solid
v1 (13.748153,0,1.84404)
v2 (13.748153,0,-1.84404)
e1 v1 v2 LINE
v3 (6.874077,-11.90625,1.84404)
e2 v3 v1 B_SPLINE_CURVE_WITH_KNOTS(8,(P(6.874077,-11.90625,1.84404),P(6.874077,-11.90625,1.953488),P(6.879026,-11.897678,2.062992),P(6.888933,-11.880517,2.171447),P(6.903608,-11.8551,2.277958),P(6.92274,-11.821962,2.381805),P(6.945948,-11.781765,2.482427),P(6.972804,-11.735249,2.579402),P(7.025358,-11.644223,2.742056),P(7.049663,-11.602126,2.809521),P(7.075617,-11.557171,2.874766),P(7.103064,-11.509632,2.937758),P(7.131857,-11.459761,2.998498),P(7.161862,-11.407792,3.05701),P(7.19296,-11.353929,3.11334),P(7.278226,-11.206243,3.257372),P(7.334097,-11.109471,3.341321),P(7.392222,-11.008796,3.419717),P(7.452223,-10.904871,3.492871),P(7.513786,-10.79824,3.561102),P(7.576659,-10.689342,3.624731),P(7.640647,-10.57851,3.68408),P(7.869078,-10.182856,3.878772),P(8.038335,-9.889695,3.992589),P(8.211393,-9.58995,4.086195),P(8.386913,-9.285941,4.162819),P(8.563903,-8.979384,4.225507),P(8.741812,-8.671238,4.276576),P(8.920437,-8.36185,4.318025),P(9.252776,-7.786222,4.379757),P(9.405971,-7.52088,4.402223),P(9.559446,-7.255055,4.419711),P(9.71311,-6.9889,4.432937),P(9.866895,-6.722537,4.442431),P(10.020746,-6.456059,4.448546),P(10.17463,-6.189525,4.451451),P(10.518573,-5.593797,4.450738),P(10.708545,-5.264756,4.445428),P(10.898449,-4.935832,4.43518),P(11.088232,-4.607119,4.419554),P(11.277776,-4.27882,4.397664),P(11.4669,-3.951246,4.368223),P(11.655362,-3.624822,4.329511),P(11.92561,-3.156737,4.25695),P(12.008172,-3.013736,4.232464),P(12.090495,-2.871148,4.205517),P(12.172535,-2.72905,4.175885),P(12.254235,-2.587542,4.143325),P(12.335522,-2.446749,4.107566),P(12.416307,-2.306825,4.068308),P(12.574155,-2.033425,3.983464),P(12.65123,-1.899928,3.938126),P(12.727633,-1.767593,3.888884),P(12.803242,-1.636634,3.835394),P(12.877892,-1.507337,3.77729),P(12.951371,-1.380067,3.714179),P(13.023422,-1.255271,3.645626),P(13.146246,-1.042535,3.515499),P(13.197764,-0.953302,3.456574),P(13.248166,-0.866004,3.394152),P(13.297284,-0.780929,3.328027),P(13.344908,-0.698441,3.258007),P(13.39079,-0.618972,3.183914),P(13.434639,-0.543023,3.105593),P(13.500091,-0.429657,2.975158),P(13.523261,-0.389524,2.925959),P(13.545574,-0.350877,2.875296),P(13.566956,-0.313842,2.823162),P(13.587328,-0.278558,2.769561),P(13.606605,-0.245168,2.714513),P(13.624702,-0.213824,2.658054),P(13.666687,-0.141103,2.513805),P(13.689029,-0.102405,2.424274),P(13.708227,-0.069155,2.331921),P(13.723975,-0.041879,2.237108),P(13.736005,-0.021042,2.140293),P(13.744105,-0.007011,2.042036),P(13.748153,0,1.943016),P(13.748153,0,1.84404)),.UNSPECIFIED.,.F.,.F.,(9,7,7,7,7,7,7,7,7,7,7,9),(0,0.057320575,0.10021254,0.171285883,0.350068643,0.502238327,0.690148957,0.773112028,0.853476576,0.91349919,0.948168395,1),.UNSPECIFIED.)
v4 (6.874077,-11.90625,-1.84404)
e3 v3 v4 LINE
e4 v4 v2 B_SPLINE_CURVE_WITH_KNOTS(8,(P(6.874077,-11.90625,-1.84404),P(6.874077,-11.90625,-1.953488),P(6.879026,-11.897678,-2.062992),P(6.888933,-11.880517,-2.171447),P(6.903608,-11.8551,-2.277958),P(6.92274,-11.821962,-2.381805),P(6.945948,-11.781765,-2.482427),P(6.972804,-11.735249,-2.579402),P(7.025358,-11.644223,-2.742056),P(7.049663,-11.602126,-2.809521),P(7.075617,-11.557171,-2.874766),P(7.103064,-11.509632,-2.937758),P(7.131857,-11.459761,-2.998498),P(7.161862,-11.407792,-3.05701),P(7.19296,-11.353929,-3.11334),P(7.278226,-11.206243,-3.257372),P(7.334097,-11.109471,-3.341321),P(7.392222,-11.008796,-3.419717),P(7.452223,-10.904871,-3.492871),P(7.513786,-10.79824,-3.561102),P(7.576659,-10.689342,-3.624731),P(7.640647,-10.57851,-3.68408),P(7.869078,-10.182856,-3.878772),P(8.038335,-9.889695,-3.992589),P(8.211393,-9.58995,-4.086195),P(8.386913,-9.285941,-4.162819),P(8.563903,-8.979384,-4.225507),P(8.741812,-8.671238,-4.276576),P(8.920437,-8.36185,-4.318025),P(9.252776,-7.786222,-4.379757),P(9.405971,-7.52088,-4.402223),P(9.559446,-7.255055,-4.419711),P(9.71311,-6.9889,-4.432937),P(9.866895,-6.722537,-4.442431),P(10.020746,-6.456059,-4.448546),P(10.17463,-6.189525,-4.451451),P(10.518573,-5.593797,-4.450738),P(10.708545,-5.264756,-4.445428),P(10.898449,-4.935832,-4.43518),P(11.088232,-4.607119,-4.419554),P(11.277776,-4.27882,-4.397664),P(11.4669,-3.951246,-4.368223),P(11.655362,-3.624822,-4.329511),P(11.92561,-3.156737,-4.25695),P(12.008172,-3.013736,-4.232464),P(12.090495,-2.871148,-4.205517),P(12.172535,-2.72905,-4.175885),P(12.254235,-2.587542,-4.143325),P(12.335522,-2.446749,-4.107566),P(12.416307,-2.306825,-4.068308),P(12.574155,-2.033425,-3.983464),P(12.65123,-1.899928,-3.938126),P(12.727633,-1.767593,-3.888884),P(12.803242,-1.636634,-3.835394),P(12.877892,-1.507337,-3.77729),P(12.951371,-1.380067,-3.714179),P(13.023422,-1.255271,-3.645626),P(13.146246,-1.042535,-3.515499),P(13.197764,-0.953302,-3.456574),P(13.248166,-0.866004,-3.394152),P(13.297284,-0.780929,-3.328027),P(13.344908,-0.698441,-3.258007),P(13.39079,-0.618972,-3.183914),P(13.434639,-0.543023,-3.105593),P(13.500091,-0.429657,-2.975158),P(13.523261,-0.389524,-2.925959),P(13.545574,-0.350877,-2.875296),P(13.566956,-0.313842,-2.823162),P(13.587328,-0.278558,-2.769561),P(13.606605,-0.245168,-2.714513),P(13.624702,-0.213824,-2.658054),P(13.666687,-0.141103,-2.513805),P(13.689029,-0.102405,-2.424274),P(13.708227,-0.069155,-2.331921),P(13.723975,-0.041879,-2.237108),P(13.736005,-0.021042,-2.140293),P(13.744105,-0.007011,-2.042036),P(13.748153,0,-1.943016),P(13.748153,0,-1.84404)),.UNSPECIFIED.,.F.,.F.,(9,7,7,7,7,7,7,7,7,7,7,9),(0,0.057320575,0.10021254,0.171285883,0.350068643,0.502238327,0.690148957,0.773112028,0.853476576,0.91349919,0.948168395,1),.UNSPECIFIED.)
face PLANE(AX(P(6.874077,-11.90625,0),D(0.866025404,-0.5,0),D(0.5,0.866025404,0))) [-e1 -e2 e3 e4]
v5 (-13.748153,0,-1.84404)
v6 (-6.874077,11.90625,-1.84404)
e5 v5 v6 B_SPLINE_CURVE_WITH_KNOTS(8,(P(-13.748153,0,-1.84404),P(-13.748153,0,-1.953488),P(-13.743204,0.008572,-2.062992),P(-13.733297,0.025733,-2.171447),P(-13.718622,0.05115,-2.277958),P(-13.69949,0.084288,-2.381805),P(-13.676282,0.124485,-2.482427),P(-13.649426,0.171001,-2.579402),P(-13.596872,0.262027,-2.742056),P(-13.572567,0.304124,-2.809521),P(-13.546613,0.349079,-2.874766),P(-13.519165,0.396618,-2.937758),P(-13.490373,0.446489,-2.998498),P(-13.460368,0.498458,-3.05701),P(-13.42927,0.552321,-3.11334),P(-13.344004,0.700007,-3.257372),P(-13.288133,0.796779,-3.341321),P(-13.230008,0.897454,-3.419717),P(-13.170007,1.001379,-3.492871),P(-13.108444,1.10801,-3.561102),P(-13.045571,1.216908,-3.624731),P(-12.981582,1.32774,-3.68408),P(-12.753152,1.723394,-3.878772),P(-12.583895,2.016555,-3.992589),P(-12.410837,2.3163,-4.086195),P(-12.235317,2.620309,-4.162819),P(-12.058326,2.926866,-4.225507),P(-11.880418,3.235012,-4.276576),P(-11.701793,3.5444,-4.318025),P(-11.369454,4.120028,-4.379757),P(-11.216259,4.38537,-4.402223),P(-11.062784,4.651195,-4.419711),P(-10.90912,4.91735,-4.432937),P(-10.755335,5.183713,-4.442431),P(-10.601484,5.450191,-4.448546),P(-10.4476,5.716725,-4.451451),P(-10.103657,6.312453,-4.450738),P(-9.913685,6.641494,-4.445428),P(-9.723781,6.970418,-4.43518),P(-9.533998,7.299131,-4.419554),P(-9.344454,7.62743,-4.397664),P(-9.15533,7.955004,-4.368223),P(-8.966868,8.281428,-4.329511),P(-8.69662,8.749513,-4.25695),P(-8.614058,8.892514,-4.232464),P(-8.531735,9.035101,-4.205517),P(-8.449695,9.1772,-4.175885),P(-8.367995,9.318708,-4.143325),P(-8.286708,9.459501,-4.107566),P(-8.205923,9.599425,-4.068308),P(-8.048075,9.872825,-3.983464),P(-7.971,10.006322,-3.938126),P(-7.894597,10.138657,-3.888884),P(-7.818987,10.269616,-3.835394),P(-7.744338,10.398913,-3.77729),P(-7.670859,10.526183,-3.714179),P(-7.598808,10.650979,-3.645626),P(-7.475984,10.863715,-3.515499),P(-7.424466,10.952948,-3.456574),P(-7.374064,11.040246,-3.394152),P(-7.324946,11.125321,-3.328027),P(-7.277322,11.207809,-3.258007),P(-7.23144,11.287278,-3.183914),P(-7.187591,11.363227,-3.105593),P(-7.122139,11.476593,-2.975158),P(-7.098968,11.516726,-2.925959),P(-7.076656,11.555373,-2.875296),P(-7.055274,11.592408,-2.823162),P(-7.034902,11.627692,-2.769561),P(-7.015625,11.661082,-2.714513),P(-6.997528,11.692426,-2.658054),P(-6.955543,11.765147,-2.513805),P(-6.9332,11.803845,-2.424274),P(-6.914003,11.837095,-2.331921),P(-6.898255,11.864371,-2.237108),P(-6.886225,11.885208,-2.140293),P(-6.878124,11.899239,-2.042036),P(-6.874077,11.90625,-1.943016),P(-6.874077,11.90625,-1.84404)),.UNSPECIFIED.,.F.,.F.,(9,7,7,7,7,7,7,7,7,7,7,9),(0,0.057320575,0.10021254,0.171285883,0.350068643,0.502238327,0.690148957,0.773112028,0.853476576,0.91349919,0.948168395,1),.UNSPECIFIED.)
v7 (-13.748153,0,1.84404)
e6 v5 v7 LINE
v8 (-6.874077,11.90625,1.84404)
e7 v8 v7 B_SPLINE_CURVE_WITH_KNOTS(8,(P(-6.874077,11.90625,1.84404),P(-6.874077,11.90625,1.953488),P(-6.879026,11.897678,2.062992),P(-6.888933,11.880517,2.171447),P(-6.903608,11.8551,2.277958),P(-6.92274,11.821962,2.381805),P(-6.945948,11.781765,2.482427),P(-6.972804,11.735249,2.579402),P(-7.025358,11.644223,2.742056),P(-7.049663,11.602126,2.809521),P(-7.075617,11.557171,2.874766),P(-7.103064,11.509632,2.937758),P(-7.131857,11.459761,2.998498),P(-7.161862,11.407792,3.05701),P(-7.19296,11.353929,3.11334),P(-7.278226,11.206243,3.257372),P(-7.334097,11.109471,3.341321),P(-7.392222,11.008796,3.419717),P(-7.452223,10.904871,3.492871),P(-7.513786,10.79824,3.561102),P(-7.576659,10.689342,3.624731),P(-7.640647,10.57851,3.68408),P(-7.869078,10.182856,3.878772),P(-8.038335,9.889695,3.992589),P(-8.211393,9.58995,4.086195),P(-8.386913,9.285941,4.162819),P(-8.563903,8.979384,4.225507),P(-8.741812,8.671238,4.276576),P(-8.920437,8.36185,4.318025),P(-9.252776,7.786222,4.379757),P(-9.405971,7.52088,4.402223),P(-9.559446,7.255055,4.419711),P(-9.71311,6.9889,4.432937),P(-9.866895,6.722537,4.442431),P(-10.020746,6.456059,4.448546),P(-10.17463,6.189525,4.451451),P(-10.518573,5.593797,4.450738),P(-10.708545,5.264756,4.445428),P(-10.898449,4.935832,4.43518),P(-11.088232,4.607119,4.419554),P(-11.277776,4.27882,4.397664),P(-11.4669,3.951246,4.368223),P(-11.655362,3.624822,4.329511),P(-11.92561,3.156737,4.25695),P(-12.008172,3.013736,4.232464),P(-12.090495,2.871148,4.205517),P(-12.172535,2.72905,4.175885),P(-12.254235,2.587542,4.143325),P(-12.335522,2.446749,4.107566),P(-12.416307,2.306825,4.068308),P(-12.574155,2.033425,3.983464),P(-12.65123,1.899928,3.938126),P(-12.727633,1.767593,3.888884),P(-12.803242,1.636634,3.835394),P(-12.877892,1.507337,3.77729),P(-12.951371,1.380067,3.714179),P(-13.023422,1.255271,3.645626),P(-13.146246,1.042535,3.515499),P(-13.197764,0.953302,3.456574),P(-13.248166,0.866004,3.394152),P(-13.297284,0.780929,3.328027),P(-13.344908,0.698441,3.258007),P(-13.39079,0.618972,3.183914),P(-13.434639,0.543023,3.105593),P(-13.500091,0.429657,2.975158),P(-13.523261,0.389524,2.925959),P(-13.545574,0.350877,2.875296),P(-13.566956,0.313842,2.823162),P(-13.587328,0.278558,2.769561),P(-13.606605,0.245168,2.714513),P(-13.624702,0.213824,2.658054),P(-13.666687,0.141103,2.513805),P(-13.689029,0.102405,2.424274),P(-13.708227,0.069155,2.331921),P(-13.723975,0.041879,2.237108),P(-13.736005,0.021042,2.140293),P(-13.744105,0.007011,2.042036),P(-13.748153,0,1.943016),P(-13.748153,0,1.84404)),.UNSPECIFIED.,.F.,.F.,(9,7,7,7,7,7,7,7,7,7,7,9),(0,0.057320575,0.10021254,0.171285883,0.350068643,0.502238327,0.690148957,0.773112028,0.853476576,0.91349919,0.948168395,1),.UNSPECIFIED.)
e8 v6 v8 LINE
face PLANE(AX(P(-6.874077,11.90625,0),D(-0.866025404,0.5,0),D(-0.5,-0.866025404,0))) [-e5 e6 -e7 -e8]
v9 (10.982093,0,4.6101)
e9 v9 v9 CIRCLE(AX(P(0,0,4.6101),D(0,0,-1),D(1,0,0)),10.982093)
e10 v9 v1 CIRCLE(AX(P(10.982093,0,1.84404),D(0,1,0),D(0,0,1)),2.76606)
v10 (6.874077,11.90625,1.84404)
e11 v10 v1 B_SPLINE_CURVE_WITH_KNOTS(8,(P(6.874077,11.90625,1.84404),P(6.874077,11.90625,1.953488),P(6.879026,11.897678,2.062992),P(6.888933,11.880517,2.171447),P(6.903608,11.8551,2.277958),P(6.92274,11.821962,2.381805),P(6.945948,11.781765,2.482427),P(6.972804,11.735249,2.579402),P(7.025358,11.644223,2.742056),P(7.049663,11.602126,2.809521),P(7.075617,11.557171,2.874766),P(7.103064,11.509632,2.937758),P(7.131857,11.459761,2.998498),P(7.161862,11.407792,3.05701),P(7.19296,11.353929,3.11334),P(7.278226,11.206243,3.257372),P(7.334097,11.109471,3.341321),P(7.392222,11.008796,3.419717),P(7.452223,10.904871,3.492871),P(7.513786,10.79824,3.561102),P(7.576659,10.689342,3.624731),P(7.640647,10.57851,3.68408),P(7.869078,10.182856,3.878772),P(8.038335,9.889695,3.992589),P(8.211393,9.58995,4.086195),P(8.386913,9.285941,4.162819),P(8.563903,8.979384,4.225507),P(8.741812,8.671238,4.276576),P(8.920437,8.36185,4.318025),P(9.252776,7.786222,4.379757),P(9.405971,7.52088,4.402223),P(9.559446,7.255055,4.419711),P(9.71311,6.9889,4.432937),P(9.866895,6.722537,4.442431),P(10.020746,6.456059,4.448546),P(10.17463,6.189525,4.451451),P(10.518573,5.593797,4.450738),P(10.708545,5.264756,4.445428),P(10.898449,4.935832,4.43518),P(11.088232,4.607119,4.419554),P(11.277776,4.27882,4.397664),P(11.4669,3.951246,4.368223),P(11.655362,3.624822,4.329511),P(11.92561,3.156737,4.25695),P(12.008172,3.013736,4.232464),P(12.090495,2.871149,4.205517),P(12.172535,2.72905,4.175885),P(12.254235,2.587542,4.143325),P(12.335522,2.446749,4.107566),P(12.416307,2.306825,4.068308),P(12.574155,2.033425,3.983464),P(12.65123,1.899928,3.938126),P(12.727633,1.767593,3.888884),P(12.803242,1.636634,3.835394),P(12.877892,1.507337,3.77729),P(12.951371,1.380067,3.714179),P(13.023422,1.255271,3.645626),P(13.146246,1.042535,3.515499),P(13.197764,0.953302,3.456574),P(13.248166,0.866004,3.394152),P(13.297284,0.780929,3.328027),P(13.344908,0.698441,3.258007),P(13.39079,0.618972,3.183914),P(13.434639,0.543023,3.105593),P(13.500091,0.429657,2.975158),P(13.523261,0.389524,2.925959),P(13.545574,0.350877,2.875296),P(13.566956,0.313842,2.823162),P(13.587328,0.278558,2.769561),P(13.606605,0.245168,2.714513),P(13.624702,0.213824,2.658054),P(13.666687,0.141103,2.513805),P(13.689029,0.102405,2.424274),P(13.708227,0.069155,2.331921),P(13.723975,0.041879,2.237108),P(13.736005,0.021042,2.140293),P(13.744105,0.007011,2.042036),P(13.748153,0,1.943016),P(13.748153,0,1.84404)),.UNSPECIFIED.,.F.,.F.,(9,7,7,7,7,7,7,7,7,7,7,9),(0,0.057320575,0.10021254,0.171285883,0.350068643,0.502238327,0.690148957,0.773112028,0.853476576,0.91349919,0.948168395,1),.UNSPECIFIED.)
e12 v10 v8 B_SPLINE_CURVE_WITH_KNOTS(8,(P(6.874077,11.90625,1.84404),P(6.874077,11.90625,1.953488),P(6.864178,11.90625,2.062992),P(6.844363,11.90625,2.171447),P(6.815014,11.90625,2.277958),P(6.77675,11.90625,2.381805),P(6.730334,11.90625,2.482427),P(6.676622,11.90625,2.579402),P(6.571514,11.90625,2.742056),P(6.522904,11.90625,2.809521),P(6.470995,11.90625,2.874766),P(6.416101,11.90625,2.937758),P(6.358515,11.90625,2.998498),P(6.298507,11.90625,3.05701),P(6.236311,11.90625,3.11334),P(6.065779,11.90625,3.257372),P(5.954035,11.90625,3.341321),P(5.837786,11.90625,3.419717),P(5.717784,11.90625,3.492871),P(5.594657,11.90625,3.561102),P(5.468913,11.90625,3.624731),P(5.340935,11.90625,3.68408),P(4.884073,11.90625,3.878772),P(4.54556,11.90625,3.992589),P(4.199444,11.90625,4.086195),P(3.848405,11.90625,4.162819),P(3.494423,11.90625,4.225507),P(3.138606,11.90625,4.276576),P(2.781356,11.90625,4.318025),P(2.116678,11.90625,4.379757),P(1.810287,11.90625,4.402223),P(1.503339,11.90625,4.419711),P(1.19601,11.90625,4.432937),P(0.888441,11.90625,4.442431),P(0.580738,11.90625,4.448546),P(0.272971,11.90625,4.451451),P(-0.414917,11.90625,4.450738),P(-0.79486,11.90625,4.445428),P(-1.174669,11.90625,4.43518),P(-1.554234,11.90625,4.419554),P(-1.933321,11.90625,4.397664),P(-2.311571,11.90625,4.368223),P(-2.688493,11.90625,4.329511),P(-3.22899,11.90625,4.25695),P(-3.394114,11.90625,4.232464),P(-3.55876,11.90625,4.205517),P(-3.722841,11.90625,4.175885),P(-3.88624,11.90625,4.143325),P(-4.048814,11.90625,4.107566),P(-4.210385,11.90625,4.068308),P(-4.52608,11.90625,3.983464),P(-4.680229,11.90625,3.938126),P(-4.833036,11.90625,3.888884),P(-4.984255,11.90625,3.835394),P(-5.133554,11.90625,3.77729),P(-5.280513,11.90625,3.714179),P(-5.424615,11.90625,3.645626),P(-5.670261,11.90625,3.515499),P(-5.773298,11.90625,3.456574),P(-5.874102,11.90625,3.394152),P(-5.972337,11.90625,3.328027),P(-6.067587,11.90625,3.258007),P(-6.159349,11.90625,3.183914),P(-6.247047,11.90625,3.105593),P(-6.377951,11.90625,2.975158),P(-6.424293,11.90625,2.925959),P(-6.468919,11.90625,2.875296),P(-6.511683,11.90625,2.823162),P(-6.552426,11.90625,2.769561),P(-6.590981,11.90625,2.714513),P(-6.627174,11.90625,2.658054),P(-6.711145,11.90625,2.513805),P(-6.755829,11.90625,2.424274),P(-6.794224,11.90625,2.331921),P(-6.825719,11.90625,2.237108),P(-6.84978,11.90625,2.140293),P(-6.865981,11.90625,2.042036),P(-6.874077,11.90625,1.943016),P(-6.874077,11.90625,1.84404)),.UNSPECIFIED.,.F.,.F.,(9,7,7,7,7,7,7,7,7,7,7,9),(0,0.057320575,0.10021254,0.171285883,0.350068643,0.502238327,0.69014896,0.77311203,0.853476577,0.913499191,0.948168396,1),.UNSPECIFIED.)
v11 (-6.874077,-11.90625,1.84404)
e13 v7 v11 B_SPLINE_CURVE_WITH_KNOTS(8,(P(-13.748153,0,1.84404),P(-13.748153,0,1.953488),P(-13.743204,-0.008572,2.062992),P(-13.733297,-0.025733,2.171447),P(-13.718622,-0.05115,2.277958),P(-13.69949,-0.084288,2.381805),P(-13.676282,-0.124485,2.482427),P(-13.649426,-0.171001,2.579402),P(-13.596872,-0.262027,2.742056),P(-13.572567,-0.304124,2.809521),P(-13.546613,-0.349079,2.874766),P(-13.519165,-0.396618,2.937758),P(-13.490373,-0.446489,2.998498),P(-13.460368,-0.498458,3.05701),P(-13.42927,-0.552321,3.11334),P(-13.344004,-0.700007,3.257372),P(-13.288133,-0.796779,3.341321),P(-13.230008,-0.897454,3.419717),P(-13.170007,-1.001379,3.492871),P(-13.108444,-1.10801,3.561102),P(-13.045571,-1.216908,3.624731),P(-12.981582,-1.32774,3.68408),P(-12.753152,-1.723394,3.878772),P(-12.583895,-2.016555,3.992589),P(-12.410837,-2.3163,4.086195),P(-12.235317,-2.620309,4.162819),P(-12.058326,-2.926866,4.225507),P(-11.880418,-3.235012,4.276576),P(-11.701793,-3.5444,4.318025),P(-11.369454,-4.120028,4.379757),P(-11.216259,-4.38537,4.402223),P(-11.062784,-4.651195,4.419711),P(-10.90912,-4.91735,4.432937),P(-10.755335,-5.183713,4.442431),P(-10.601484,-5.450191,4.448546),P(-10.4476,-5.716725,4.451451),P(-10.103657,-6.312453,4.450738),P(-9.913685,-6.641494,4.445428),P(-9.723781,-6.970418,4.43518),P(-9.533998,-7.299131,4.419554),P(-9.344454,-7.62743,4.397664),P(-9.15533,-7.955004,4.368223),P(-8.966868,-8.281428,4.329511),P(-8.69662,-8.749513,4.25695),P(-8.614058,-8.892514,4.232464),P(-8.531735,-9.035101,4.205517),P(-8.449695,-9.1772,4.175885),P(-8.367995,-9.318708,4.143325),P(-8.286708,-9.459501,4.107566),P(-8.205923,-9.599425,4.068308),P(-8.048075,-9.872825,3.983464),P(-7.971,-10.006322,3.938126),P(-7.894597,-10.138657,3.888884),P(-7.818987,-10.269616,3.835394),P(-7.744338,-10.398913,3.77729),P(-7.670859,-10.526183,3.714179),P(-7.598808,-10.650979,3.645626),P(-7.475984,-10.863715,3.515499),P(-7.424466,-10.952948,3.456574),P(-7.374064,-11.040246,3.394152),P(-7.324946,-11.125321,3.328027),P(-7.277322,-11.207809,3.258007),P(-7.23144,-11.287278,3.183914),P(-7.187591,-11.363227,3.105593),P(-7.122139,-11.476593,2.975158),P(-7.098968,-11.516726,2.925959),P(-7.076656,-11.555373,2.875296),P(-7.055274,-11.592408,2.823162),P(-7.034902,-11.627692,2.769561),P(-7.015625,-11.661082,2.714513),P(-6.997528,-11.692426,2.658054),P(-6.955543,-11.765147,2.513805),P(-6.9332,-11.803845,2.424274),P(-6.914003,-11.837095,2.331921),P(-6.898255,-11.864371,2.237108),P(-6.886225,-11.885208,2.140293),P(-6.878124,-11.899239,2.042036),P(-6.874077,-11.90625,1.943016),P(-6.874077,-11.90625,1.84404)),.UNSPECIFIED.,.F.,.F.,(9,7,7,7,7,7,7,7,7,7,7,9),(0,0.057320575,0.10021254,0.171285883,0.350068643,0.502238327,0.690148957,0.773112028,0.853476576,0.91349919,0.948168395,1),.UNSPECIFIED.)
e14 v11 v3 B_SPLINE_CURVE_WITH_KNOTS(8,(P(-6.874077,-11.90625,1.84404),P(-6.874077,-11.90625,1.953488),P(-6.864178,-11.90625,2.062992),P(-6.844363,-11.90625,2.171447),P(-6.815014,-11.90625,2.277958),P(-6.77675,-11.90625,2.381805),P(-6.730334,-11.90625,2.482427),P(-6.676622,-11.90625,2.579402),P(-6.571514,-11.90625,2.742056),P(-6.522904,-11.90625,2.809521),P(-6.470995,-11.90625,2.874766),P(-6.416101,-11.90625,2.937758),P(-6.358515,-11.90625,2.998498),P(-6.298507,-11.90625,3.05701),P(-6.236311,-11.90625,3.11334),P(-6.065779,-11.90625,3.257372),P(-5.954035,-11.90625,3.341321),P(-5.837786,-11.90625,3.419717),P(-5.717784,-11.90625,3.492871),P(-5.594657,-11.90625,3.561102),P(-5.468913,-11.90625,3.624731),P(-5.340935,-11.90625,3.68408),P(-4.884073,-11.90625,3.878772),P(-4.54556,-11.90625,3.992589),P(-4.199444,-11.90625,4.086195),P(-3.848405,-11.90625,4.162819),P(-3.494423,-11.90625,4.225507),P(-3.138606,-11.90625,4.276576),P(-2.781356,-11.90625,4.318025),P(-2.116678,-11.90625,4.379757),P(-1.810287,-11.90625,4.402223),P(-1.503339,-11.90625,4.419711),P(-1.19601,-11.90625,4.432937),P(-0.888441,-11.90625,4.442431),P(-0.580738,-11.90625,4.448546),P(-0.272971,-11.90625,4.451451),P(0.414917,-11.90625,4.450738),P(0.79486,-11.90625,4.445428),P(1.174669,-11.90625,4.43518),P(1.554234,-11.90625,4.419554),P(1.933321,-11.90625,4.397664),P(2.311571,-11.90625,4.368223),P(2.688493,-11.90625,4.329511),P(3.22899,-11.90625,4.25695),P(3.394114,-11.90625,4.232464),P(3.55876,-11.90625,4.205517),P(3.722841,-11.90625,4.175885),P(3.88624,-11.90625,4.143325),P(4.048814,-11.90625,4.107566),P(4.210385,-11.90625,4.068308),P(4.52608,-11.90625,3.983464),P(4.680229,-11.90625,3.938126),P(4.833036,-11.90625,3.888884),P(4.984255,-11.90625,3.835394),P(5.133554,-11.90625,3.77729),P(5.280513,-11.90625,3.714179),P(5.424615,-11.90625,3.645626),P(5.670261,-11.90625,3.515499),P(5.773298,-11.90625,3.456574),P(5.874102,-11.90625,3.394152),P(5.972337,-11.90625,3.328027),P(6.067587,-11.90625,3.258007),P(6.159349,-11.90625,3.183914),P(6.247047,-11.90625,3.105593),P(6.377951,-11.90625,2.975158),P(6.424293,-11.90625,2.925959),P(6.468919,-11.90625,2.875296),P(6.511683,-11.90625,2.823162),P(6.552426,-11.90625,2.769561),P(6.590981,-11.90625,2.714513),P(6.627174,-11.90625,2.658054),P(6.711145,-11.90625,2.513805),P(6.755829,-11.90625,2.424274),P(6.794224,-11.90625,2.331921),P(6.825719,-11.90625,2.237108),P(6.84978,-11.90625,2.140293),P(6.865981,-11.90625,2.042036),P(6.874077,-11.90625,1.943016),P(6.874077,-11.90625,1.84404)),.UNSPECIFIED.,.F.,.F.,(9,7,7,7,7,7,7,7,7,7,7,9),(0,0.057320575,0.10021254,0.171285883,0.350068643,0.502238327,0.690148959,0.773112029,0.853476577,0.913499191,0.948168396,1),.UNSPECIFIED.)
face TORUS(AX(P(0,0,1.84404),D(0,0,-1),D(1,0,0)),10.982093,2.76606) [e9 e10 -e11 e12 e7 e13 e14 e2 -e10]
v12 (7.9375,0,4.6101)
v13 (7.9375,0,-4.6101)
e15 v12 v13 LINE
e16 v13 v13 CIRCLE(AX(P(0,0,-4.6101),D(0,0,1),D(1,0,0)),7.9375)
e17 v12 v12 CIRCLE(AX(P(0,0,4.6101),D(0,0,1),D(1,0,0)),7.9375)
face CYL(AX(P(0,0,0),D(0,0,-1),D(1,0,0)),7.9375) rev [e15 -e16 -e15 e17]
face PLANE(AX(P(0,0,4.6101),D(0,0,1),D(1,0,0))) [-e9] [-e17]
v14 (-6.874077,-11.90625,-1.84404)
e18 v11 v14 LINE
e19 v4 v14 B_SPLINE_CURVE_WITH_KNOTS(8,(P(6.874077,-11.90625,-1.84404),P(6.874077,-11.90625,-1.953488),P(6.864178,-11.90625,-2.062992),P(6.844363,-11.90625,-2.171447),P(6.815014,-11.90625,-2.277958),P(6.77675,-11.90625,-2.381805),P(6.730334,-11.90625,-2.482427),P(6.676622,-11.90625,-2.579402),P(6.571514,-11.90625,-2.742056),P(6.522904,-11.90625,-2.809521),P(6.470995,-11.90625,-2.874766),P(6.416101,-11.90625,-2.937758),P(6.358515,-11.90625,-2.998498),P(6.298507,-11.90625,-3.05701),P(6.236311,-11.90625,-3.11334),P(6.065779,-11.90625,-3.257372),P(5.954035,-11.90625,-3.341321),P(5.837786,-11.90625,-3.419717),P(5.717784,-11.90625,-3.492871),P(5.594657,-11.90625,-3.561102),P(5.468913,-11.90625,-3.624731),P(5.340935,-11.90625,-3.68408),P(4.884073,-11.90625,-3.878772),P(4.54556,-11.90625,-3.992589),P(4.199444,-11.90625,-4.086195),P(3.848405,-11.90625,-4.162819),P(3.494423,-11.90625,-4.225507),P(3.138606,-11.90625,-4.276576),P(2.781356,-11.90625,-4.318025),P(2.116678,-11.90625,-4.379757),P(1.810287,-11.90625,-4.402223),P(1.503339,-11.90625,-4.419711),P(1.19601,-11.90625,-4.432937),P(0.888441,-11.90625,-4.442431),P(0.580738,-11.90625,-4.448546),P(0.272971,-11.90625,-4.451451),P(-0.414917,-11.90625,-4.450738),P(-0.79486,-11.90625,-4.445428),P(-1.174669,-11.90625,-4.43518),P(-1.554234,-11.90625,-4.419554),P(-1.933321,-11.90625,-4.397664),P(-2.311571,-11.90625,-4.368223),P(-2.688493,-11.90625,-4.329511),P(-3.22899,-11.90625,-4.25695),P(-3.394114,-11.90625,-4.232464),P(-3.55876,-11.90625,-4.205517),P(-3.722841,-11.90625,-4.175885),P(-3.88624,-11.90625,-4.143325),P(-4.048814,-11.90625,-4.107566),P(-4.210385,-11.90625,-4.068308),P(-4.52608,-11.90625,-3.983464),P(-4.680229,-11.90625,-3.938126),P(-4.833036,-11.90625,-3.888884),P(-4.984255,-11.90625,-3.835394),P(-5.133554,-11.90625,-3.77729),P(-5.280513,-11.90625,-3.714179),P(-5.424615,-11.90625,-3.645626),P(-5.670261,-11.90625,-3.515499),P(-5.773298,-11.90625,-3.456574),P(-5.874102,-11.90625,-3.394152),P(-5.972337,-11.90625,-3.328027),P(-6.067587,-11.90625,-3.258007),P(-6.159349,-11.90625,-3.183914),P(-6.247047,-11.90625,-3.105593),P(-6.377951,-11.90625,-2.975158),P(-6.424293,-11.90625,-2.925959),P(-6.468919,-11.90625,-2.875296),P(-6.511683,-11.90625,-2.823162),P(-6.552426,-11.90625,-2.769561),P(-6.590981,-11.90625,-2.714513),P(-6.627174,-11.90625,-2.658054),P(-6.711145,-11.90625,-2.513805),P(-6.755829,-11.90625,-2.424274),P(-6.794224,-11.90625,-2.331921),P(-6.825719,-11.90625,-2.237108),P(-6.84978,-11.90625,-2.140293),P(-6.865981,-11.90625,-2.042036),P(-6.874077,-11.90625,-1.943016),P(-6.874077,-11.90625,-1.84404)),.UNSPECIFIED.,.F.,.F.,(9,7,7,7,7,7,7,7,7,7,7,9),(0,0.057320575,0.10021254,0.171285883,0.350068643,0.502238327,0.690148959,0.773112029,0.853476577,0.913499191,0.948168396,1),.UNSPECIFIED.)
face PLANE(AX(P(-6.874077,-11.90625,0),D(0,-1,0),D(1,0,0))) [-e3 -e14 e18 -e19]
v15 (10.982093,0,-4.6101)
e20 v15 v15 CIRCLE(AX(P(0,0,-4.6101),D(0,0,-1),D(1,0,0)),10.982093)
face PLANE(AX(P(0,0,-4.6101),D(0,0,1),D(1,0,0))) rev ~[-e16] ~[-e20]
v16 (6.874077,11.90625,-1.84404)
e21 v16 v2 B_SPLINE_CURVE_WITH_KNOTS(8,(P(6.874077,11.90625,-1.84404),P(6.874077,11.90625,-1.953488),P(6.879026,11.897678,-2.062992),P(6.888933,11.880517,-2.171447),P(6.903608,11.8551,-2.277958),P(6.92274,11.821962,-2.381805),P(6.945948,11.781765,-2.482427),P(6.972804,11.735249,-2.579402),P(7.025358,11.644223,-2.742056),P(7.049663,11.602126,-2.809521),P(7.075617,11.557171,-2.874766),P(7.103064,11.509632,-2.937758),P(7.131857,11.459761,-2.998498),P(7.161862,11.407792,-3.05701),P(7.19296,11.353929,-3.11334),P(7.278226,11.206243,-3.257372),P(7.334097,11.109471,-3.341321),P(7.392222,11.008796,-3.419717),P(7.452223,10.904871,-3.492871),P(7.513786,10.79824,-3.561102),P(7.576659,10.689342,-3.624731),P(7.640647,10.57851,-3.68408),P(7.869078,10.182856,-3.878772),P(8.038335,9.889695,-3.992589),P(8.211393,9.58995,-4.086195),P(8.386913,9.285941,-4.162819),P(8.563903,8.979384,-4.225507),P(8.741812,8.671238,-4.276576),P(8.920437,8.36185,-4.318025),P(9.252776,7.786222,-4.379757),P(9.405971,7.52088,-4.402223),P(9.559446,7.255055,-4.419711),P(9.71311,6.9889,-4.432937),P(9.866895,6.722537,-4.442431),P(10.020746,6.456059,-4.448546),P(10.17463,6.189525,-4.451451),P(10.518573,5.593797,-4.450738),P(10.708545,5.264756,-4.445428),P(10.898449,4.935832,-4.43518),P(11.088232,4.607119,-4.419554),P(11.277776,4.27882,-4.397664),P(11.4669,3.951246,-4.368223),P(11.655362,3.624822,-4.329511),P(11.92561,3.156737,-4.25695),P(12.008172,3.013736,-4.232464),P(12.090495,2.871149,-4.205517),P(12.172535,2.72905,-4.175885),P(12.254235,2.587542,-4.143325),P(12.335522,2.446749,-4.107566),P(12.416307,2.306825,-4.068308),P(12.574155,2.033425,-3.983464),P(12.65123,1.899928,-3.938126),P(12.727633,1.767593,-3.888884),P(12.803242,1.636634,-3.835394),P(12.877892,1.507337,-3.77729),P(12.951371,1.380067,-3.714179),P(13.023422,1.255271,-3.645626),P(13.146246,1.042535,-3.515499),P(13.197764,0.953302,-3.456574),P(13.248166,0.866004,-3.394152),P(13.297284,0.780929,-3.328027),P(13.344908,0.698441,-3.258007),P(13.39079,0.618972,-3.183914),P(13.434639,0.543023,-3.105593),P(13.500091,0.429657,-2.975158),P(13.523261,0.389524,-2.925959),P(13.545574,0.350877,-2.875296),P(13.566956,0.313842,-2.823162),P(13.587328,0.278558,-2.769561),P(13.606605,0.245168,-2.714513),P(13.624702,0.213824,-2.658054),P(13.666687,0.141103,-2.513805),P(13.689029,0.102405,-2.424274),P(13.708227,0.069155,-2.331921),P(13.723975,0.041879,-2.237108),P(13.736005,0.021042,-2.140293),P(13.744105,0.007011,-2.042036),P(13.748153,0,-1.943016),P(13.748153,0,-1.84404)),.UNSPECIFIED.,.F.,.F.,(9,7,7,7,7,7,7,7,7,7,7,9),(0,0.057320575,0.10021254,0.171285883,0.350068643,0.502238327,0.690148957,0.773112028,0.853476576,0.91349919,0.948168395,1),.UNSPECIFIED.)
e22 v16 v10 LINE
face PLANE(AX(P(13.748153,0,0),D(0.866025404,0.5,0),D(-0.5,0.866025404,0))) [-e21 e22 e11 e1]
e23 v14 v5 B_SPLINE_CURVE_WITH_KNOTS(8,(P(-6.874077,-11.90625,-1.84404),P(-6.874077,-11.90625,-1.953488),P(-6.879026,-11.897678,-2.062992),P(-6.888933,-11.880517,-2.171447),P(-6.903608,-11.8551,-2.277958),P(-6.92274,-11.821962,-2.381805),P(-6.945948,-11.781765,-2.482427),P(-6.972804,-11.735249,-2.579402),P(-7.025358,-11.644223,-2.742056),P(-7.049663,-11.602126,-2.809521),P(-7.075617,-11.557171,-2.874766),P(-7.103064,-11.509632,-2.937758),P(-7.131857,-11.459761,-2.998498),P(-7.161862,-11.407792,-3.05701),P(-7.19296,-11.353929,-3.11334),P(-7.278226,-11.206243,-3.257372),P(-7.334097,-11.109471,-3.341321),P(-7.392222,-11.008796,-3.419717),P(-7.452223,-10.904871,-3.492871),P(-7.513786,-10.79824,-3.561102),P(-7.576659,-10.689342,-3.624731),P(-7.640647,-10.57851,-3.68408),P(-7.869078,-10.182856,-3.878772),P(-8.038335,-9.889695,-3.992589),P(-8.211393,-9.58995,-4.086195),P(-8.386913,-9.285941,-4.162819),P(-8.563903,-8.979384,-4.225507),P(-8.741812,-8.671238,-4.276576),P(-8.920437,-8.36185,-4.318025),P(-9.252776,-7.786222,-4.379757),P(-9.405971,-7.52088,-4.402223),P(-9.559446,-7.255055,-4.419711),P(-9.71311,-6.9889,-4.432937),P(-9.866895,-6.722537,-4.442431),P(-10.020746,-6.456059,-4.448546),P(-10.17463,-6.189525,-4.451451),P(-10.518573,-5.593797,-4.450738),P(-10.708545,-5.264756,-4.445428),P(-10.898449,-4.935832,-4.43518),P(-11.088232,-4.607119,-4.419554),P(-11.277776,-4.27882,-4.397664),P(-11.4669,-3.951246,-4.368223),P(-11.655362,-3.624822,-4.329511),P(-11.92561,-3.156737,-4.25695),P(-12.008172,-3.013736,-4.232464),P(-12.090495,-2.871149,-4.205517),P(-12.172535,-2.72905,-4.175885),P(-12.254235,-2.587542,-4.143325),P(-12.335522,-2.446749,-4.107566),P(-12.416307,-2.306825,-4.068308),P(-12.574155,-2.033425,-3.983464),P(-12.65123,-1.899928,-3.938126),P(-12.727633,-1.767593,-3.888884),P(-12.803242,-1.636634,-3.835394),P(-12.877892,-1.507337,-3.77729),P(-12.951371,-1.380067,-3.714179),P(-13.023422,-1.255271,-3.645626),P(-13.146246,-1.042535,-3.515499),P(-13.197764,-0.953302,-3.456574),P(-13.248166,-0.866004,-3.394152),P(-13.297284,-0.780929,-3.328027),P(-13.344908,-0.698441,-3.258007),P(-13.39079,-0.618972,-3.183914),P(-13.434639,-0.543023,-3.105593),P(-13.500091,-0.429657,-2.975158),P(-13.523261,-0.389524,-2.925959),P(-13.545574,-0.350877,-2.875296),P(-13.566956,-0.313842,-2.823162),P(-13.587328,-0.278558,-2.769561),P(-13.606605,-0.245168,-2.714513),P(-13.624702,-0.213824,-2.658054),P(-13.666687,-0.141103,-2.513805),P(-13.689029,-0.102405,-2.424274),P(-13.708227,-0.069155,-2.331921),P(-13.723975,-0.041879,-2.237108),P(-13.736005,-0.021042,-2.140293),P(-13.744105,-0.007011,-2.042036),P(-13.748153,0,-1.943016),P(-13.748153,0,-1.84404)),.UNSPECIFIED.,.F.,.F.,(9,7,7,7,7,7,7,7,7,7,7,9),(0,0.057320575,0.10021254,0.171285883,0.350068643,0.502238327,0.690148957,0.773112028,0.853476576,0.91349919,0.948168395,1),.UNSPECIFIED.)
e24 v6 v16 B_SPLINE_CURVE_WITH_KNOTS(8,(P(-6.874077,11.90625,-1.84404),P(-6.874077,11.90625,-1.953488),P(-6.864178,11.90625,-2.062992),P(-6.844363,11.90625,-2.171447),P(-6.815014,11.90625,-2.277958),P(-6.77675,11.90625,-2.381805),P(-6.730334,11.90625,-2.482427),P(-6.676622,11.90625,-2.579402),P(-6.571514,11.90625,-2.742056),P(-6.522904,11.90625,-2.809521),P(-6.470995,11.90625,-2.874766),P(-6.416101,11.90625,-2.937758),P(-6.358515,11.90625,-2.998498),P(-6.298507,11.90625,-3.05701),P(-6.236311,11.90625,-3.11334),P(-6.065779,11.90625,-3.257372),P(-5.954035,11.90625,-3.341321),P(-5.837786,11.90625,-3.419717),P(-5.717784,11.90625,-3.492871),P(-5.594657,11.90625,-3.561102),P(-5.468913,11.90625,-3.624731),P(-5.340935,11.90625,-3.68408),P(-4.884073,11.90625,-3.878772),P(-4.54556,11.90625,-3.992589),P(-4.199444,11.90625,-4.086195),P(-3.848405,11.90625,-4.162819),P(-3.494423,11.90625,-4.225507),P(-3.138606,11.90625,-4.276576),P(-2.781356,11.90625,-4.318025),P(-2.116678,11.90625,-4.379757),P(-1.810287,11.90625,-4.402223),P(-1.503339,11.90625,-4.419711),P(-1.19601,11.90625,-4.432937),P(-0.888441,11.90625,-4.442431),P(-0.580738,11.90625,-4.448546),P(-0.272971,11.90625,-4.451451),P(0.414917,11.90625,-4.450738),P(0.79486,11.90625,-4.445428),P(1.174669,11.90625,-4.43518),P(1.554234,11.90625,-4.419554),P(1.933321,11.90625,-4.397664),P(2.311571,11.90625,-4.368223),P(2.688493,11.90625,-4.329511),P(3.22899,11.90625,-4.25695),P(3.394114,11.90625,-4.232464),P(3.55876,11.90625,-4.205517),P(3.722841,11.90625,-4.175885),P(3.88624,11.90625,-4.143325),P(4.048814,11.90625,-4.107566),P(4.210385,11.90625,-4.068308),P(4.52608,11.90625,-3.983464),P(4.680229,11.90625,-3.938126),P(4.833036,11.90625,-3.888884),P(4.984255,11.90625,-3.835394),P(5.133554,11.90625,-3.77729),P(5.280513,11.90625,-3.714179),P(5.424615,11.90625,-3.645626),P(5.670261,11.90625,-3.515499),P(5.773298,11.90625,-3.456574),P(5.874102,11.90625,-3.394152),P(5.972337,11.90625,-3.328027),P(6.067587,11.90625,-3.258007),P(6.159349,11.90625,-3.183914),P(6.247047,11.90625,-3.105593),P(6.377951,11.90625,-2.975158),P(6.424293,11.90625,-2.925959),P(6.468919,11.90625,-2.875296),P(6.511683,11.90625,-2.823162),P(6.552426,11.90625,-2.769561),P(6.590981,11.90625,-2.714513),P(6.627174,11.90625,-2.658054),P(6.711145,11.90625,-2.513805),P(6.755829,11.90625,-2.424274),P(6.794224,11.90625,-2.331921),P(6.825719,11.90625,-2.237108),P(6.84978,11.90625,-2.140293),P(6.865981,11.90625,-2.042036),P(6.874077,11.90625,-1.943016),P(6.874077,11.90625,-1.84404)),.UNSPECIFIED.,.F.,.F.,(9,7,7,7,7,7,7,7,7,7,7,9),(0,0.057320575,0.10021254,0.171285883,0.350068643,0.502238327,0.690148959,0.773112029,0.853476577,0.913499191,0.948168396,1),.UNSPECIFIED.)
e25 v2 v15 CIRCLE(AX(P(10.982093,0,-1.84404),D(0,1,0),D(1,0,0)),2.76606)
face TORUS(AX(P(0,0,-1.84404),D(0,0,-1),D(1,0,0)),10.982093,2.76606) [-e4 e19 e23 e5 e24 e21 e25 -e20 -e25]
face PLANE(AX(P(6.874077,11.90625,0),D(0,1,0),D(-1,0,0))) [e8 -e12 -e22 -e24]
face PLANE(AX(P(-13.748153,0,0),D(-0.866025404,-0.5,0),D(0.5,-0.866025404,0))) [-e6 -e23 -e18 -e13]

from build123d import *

# Parameters (mm, degrees)
SKETCH1_R          = 7.9375
BASE_EXTRUDE_DEPTH = 4.6101


with BuildPart() as part:
    # Sketch1 → Base-Extrude (new, symmetric)
    with BuildSketch(Plane.XY):
        Polygon((13.748153285, 0), (6.874076643, 11.90625), (-6.874076643, 11.90625), (-13.748153285, 0), (-6.874076643, -11.90625), (6.874076643, -11.90625), align=None)
        Circle(SKETCH1_R, mode=Mode.SUBTRACT)
    extrude(amount=BASE_EXTRUDE_DEPTH, both=True)

    # Sketch2 → Cut-Revolve1 (revolve, cut)
    with BuildSketch(Plane(origin=(0, 0, 0), x_dir=(1, 0, 0), z_dir=(0, 1, 0))):
        with BuildLine():
            Line((13.748153285, 4.6101), (13.748153285, 1.84404))
            ThreePointArc((13.748153285, 1.84404), (12.937993068, 3.799939783), (10.982093285, 4.6101))
            Line((10.982093285, 4.6101), (13.748153285, 4.6101))
        make_face()
        with BuildLine():
            Line((13.748153285, -4.6101), (10.982093285, -4.6101))
            ThreePointArc((10.982093285, -4.6101), (12.937993068, -3.799939783), (13.748153285, -1.84404))
            Line((13.748153285, -1.84404), (13.748153285, -4.6101))
        make_face()
    revolve(axis=Axis((0, 0, 0), (0, 0, -1)), mode=Mode.SUBTRACT)


solid = part.part
